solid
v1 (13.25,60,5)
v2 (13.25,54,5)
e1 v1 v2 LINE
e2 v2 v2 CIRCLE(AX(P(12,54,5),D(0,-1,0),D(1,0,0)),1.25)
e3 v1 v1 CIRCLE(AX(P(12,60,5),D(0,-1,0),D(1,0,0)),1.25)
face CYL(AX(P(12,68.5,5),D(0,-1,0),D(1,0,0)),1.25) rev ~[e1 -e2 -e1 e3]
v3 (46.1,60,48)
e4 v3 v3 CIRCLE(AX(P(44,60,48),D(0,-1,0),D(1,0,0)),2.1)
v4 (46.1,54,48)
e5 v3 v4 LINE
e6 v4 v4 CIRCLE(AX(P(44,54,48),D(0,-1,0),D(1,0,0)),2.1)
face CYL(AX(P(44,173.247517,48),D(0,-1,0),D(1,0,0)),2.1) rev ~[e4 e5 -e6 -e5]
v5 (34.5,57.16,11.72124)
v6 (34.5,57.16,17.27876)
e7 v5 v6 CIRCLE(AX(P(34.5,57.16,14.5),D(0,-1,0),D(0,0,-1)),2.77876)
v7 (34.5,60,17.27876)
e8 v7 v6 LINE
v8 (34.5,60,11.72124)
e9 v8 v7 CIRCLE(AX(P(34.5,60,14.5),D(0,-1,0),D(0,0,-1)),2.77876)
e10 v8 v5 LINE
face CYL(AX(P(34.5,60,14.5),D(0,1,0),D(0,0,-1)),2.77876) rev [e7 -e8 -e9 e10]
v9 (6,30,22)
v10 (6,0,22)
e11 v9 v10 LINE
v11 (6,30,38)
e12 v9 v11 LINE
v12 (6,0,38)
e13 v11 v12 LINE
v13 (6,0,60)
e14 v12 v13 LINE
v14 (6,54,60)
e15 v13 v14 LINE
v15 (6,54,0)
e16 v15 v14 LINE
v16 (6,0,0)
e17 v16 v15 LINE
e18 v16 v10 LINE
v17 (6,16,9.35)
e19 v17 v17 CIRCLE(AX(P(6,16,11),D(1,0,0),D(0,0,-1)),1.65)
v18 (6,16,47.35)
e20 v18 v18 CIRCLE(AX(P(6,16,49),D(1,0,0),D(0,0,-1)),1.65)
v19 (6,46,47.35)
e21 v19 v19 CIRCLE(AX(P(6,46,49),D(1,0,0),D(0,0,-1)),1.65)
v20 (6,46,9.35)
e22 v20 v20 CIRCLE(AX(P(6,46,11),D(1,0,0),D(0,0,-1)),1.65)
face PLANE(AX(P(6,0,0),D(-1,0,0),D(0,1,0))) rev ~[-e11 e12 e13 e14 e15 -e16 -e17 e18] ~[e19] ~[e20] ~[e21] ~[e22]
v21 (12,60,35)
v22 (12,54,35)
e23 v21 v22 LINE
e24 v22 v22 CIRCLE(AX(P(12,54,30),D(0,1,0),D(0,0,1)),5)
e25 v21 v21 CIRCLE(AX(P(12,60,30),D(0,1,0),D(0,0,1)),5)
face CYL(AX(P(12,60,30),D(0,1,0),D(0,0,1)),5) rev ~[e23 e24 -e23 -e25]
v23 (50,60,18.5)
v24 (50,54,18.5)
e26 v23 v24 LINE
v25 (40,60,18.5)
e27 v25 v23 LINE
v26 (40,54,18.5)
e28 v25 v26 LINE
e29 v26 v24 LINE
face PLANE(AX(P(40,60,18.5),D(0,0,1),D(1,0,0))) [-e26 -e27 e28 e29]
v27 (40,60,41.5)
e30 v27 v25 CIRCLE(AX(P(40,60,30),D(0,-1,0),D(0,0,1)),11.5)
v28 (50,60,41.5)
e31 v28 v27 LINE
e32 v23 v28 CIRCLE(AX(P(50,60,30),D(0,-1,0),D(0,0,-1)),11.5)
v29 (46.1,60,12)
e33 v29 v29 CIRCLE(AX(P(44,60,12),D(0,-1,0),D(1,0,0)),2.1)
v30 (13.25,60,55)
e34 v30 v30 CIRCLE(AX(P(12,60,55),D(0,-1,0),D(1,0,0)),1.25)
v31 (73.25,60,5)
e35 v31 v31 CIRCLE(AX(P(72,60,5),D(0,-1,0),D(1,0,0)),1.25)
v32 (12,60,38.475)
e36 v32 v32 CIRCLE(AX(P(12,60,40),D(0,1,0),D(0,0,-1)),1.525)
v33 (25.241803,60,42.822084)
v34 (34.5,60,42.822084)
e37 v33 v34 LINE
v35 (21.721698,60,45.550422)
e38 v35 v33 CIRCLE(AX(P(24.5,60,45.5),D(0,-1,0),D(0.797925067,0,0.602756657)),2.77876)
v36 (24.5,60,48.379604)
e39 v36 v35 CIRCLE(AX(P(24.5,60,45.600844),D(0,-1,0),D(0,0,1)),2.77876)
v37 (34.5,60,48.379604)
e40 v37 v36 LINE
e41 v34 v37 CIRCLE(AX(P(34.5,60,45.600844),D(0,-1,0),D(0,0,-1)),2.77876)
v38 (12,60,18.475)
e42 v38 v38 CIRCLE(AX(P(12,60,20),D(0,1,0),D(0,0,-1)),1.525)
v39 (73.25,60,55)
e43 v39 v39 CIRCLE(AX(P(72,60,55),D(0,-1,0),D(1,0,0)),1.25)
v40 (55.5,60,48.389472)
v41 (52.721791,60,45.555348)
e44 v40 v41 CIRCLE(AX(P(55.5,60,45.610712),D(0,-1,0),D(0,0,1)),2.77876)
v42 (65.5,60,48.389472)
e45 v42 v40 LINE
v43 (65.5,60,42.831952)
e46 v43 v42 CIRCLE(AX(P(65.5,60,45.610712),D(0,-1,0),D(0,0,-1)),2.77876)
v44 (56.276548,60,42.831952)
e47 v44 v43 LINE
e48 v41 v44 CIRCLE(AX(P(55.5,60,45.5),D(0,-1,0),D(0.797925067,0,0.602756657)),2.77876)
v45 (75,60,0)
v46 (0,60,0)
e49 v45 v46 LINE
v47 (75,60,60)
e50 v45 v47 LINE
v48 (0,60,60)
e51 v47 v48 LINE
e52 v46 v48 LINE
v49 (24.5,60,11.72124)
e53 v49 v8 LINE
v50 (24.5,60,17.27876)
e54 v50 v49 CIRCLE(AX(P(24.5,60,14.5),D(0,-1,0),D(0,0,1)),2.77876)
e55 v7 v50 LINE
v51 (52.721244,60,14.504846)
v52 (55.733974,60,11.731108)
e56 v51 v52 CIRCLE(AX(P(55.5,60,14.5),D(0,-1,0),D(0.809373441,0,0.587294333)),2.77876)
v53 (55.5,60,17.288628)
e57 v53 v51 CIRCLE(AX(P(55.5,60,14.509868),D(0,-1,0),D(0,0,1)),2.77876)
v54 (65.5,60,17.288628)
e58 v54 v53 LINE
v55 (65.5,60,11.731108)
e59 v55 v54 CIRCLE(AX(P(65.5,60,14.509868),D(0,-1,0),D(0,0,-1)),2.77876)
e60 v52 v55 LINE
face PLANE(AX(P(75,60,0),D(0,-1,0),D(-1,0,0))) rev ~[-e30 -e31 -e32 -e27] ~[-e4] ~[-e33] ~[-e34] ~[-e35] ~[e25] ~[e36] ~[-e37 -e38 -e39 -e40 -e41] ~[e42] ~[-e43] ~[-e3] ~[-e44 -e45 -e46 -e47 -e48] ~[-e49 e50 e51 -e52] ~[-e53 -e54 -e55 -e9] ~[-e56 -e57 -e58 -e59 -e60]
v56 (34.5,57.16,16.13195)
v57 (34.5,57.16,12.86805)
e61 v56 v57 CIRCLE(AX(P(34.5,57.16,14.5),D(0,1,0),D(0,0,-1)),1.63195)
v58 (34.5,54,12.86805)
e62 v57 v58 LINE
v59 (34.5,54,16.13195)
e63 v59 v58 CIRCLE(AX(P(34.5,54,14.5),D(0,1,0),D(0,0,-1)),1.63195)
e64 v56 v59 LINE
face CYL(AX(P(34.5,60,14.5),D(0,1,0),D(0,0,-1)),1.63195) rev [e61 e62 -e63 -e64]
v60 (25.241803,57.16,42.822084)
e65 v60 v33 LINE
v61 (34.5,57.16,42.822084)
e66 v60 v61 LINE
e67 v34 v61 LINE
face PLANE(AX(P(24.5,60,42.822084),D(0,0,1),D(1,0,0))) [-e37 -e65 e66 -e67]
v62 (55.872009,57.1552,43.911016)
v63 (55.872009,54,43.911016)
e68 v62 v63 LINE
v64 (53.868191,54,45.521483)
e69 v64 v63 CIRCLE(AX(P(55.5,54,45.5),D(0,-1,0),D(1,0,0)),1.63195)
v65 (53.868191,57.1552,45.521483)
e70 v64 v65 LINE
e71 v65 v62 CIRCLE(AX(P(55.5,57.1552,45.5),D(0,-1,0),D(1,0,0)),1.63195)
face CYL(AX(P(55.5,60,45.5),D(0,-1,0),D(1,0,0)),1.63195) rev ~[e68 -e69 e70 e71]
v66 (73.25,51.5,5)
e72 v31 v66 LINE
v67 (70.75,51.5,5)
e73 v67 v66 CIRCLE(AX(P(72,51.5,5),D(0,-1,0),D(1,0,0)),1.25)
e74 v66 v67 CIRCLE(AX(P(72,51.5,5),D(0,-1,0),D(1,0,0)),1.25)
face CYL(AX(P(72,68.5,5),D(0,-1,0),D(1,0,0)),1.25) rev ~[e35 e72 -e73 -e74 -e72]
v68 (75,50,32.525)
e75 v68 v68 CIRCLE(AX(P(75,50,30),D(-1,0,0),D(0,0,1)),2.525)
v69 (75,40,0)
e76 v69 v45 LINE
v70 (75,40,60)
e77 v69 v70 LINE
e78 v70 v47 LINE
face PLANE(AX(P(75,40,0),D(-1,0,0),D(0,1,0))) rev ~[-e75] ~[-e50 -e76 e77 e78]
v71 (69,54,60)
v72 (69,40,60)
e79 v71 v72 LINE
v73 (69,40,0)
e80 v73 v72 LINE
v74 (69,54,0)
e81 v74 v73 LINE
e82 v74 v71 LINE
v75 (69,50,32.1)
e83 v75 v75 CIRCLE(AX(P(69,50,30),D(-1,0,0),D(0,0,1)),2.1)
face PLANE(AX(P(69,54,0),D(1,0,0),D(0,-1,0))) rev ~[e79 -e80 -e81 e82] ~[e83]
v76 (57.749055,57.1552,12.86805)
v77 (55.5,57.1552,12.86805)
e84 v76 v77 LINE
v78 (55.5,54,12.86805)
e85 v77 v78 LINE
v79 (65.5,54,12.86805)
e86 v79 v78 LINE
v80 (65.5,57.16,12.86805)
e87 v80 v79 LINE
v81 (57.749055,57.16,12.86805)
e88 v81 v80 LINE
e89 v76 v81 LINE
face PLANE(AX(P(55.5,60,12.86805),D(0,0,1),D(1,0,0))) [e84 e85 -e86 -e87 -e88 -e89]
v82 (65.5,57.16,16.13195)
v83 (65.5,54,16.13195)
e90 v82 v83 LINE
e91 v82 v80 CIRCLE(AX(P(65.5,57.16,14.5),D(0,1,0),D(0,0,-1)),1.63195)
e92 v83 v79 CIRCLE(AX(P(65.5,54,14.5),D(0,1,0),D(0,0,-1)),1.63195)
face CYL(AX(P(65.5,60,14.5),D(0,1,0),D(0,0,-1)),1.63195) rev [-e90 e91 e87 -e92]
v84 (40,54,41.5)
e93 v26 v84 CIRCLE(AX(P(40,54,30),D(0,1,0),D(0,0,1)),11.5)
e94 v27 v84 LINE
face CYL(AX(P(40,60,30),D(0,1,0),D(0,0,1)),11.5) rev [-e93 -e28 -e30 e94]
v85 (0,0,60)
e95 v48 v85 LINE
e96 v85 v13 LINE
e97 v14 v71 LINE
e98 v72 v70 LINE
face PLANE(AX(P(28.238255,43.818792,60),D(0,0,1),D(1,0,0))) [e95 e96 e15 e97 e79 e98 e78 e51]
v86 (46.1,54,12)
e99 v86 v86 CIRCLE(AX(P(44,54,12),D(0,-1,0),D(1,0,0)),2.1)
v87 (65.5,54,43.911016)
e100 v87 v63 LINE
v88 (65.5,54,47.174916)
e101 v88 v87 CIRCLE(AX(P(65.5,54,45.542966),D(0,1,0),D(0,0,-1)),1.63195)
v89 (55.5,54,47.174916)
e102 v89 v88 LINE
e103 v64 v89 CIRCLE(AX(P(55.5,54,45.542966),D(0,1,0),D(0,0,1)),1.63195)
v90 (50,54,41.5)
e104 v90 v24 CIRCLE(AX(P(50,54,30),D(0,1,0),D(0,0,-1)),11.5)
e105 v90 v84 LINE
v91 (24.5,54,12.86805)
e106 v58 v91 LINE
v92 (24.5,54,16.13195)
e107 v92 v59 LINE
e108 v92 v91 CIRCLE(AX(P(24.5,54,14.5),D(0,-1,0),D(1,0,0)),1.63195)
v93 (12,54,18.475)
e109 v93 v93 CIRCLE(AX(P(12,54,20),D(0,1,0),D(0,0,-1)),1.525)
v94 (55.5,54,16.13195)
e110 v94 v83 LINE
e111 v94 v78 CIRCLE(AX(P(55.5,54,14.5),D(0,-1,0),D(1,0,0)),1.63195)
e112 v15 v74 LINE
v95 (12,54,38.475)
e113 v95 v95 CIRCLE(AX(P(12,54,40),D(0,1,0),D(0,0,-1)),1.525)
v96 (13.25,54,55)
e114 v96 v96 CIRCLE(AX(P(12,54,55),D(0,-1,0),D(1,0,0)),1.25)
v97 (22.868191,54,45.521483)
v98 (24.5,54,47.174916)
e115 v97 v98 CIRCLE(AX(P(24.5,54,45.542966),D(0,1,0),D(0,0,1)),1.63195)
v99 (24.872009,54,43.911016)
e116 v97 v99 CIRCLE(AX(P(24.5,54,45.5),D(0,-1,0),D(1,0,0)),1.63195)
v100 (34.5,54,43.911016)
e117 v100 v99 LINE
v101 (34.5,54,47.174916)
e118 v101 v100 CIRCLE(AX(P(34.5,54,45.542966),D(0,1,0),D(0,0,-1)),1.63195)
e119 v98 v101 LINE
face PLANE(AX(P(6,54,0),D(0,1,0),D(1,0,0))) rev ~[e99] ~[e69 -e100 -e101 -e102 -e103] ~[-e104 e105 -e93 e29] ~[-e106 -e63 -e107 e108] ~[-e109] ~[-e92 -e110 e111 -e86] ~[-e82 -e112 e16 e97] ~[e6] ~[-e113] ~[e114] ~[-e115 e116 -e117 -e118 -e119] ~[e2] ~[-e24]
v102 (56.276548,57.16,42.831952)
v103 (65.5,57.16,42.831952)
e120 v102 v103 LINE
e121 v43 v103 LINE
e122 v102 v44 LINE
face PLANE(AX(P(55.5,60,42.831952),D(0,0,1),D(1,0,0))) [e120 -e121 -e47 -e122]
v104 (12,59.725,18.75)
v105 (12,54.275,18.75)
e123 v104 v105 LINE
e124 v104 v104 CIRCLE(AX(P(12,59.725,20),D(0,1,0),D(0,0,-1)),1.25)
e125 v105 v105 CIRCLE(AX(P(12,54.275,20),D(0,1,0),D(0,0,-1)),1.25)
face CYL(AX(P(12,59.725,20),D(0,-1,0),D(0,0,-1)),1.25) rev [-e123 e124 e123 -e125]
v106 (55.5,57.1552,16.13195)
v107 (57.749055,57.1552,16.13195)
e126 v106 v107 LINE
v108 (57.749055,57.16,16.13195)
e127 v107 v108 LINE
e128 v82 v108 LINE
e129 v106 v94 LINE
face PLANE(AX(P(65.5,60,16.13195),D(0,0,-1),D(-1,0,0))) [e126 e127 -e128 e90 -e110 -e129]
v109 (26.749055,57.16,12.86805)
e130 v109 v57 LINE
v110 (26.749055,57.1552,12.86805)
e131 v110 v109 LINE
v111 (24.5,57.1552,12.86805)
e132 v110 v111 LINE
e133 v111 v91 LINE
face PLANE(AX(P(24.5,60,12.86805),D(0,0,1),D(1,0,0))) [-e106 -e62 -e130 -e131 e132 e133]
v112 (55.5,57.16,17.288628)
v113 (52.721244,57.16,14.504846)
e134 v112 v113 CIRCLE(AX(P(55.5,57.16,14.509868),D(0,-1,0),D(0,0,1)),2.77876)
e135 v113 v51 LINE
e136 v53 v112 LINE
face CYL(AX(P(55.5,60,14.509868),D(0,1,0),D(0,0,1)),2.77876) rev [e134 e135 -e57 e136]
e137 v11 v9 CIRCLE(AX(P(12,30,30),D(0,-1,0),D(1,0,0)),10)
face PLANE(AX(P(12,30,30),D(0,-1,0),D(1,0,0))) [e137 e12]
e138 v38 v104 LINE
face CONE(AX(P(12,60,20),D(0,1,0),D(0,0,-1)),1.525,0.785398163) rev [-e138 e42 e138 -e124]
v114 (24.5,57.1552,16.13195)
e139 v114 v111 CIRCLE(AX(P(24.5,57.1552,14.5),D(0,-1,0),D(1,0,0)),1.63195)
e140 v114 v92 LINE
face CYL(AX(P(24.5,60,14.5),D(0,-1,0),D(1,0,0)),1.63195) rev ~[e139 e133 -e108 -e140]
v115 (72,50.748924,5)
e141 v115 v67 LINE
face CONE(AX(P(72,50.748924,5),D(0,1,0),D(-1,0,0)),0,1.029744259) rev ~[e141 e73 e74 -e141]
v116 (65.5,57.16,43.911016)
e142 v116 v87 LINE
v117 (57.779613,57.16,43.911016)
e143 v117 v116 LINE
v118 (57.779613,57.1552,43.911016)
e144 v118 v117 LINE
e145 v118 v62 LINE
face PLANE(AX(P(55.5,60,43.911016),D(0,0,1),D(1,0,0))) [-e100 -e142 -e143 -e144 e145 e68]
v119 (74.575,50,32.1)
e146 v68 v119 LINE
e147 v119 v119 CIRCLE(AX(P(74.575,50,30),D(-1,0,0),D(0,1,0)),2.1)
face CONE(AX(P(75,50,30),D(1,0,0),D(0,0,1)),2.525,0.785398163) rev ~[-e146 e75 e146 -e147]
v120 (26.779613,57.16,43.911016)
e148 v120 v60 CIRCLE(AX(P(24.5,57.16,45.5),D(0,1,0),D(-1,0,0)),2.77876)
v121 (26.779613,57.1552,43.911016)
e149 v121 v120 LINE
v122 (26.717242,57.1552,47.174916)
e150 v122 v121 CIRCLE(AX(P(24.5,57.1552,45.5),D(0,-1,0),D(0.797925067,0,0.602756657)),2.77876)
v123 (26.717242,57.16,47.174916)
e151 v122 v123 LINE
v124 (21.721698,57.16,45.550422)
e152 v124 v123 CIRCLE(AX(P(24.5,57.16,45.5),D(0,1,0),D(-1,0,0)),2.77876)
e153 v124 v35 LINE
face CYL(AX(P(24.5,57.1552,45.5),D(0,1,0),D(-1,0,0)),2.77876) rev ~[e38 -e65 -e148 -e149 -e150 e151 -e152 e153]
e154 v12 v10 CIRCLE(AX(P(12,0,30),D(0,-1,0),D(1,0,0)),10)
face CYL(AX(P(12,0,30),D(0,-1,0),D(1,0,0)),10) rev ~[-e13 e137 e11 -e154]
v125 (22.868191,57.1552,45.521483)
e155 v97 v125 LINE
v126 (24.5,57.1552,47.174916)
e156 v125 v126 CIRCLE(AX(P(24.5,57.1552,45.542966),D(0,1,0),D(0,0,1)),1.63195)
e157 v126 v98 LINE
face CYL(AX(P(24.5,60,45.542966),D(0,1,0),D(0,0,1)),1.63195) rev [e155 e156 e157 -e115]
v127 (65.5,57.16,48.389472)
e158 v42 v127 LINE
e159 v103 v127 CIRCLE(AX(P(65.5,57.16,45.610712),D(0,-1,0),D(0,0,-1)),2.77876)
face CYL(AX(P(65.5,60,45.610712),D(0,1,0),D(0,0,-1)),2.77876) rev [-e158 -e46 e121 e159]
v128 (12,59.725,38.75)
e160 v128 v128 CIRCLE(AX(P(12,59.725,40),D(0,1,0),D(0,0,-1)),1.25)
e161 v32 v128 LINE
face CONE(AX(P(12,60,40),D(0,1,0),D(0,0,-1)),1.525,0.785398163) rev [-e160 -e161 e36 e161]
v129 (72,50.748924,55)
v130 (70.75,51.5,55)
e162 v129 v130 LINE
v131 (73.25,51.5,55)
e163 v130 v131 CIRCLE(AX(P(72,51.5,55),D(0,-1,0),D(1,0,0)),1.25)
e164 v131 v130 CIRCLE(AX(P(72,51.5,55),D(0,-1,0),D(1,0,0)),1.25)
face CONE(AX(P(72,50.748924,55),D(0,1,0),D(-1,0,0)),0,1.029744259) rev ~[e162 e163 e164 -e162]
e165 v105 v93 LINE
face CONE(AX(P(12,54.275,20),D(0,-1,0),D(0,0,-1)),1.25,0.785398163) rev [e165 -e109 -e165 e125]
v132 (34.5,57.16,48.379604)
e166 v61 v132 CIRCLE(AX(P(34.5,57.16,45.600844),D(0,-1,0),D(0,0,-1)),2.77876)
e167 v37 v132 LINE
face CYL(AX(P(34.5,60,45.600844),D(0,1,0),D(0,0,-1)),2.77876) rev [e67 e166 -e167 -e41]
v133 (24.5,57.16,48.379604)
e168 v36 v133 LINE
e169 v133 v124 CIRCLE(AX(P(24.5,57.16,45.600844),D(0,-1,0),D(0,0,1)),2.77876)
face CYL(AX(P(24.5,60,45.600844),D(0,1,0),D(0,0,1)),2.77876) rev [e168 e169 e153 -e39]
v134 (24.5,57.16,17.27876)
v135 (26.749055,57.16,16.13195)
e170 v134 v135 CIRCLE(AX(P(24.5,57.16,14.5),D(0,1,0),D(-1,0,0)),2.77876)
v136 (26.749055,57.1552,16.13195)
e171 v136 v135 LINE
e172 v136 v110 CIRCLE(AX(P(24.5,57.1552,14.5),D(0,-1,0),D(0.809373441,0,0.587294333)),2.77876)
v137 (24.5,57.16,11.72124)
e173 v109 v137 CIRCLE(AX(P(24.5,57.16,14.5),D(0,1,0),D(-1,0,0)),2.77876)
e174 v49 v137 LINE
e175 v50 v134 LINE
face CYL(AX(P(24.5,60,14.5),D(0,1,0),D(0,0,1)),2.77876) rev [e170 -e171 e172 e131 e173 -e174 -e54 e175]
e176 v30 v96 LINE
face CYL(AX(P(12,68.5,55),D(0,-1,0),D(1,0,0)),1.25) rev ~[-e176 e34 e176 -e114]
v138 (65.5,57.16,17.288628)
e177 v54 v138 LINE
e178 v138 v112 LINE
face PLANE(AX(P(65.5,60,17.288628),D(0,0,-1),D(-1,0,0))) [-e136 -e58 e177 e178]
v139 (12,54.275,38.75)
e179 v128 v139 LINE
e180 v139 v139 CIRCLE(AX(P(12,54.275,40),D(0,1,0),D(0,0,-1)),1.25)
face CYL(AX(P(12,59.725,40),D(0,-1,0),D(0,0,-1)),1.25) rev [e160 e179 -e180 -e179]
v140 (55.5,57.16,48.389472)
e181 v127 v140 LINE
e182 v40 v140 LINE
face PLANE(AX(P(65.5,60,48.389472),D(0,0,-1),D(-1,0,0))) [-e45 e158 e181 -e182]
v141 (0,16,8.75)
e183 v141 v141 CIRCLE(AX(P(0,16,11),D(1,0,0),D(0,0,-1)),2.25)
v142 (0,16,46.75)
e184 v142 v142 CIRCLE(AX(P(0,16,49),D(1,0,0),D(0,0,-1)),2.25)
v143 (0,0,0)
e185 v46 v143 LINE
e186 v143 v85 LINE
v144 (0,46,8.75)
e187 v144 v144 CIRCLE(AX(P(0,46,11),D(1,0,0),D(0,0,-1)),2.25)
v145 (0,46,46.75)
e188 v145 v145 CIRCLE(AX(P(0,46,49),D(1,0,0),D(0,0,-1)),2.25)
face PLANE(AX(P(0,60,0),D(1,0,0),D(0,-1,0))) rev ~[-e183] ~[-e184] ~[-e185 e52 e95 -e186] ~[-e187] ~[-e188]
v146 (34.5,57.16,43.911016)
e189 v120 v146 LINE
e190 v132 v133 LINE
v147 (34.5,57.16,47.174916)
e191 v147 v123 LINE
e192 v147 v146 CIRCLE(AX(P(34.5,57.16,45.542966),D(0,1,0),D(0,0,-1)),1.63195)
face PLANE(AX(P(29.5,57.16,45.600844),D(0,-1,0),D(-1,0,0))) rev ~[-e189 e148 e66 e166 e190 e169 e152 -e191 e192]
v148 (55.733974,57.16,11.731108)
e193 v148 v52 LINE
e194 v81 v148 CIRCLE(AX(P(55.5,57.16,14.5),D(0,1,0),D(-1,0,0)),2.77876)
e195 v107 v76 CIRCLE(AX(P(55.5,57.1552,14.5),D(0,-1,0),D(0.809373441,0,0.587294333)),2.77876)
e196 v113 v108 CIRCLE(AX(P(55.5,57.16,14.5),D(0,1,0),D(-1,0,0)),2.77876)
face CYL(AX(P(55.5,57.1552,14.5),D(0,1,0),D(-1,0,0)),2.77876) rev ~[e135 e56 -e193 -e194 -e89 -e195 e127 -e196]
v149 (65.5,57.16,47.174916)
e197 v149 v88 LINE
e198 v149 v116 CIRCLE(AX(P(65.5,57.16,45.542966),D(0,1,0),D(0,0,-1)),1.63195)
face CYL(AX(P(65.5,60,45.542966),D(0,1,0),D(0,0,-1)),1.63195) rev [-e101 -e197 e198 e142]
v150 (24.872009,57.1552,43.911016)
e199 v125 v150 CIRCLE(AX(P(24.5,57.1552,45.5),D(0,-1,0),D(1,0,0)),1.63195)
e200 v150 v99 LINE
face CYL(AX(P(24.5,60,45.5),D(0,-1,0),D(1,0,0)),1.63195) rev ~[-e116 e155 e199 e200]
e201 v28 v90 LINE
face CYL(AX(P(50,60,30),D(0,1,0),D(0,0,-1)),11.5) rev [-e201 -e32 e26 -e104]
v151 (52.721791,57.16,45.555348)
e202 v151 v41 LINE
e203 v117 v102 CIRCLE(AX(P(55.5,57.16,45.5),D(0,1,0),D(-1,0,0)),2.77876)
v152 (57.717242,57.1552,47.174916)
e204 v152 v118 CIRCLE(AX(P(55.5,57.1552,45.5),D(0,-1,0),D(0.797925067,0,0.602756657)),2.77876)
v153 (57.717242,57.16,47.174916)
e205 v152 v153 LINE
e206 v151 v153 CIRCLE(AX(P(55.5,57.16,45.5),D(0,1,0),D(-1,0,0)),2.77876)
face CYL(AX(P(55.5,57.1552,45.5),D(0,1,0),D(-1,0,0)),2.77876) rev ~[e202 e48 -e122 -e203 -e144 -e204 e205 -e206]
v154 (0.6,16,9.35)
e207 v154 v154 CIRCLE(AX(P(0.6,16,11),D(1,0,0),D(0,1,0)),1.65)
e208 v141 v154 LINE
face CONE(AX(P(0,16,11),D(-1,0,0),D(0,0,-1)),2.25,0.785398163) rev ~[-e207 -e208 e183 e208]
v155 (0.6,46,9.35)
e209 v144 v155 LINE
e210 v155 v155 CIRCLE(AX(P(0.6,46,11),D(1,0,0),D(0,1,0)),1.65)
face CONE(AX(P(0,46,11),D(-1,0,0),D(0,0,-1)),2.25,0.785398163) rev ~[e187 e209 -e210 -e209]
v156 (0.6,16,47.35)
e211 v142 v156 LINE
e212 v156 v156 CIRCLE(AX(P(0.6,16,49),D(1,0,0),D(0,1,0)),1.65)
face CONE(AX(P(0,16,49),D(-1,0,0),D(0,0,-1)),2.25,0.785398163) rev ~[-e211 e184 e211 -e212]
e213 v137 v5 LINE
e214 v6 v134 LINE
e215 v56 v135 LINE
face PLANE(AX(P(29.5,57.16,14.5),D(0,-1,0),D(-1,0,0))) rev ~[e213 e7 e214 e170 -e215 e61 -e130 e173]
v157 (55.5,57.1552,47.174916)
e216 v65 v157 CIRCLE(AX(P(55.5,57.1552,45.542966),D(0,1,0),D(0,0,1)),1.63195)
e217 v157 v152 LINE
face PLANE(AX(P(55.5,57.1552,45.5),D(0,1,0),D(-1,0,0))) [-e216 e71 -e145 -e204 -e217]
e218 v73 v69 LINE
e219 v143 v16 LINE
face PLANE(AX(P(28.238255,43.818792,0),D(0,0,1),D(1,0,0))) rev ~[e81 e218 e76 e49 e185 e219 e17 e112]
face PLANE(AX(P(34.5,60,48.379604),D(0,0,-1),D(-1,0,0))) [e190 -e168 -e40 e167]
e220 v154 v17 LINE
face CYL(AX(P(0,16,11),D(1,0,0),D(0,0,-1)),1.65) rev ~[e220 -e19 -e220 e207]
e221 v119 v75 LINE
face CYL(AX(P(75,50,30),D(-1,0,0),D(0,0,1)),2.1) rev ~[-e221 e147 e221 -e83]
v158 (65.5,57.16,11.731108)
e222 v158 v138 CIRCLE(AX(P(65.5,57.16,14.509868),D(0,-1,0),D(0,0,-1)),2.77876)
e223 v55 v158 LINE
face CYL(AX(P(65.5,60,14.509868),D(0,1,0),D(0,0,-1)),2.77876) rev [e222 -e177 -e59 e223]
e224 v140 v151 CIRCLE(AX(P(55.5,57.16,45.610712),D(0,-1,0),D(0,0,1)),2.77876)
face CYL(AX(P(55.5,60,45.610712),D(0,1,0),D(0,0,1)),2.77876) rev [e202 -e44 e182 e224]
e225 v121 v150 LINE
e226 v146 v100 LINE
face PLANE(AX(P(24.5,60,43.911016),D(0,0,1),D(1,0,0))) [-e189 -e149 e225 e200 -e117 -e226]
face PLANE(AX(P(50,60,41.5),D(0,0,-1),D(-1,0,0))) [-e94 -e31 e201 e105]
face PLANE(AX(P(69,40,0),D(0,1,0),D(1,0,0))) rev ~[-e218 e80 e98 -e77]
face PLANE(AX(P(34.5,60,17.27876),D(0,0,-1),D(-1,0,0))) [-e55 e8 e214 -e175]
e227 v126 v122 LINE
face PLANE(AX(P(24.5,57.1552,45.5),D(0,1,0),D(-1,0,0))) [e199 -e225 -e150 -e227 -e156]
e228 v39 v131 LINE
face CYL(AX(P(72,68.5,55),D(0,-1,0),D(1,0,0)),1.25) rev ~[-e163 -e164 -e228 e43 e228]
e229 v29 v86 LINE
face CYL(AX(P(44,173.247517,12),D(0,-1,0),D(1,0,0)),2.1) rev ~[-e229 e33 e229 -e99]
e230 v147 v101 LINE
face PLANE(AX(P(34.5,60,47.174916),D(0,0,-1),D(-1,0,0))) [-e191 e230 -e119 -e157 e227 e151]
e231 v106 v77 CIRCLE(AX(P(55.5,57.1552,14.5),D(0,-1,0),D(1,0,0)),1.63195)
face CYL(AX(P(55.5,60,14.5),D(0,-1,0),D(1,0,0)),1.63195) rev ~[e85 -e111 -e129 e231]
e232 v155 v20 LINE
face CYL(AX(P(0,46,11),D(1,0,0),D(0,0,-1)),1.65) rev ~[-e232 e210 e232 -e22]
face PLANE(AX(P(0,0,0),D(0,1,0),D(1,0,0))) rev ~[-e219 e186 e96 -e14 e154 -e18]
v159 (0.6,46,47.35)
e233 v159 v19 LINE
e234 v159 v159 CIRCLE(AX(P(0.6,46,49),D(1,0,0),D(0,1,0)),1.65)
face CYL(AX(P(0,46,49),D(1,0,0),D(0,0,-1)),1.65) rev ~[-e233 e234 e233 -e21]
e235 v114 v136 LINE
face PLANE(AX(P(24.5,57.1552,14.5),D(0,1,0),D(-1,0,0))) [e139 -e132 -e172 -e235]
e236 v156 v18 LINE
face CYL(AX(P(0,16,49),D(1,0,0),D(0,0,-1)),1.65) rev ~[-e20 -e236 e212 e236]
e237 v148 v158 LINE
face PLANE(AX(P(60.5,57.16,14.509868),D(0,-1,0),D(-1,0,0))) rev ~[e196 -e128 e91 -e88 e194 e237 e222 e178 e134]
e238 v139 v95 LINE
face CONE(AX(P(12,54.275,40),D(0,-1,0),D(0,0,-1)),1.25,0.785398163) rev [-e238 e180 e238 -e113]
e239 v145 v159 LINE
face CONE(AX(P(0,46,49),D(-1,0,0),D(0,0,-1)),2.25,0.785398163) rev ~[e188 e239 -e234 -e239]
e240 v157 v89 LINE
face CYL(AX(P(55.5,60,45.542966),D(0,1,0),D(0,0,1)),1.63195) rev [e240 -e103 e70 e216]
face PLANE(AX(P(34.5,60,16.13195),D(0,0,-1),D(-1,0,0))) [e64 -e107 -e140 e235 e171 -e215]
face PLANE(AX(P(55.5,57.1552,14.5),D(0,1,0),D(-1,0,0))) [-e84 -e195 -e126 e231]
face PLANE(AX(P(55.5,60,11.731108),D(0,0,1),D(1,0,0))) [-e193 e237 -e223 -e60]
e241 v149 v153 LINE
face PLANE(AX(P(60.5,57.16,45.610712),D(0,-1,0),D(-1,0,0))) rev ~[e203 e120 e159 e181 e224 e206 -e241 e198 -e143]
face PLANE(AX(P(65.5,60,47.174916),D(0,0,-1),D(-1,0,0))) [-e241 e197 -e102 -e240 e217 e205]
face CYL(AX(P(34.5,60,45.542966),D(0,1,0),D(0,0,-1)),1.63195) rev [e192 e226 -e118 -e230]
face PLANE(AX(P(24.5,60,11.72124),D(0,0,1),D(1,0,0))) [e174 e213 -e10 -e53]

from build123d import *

# Parameters (mm, degrees)
BOSS_EXTRUDE1_DEPTH                            = 60
CUT_EXTRUDE1_DEPTH                             = 114.247516529
CBORE_FOR_4_SOCKET_HEAD_CAP_SCREW1_D           = 3.2639
CBORE_FOR_4_SOCKET_HEAD_CAP_SCREW1_CBORE_D     = 5.55752
CBORE_FOR_4_SOCKET_HEAD_CAP_SCREW1_CBORE_DEPTH = 2.8448
CUT_EXTRUDE5_REACH                             = 115.248
CUT_EXTRUDE6_DEPTH                             = 2.84
M3_TAPPED_HOLE1_D                              = 2.5
M3_TAPPED_HOLE1_DEPTH                          = 8.5
M3_TAPPED_HOLE1_TIP                            = 0.751075774
M5_TAPPED_HOLE1_D                              = 4.2
SKETCH11_R                                     = 5
CUT_EXTRUDE2_DEPTH                             = 114.247516529
M4_TAPPED_HOLE1_D                              = 3.3
M4_TAPPED_HOLE1_DEPTH                          = 6
M4_TAPPED_HOLE1_CSINK_D                        = 4.5
M4_TAPPED_HOLE1_CSINK_ANGLE                    = 90
M5_TAPPED_HOLE2_D                              = 4.2
M5_TAPPED_HOLE2_DEPTH                          = 6
M5_TAPPED_HOLE2_CSINK_D                        = 5.05
M5_TAPPED_HOLE2_CSINK_ANGLE                    = 90
SKETCH16_R                                     = 10
CUT_EXTRUDE4_DEPTH                             = 30
M3_TAPPED_HOLE2_AT_2_COUNT                     = 2
M3_TAPPED_HOLE2_AT_2_PITCH                     = 20


with BuildPart() as part:
    # Sketch1 → Boss-Extrude1 (new body)
    with BuildSketch(Plane.XY):
        Polygon((0, 0), (6, 0), (6, 54), (69, 54), (69, 40), (75, 40), (75, 60), (0, 60), align=None)
    extrude(amount=BOSS_EXTRUDE1_DEPTH)

    # Sketch2 → Cut-Extrude1 (cut, through all)
    with BuildSketch(Plane(origin=(0, 60, 0), x_dir=(1, 0, 0), z_dir=(0, 1, 0))):
        with BuildLine():
            Line((40, -18.5), (50, -18.5))
            ThreePointArc((50, -18.5), (61.5, -30), (50, -41.5))
            Line((50, -41.5), (40, -41.5))
            ThreePointArc((40, -41.5), (28.5, -30), (40, -18.5))
        make_face()
    extrude(amount=-CUT_EXTRUDE1_DEPTH, mode=Mode.SUBTRACT)

    # CBORE for #4 Socket Head Cap Screw1 (through all)
    with Locations(Plane(origin=(0, 60, 0), x_dir=(-1, 0, 0), z_dir=(0, 1, 0))):
        with Locations((-24.5, 45.5), (-55.5, 45.5), (-24.5, 14.5), (-55.5, 14.5)):
            CounterBoreHole(CBORE_FOR_4_SOCKET_HEAD_CAP_SCREW1_D / 2, CBORE_FOR_4_SOCKET_HEAD_CAP_SCREW1_CBORE_D / 2, CBORE_FOR_4_SOCKET_HEAD_CAP_SCREW1_CBORE_DEPTH)

    # Sketch24 → Cut-Extrude5 (cut, up to next)
    with BuildSketch(Plane(origin=(0, 60, 0), x_dir=(1, 0, 0), z_dir=(0, 1, 0)), mode=Mode.PRIVATE) as cut_extrude5_sk1:
        with BuildLine():
            Line((24.5, -12.86805), (34.5, -12.86805))
            ThreePointArc((34.5, -12.86805), (36.13195, -14.5), (34.5, -16.13195))
            Line((34.5, -16.13195), (24.5, -16.13195))
            ThreePointArc((24.5, -16.13195), (22.86805, -14.5), (24.5, -12.86805))
        make_face()
    cut_extrude5_tool1 = extrude(cut_extrude5_sk1.sketch, amount=-CUT_EXTRUDE5_REACH, mode=Mode.PRIVATE) & part.part
    # Sketch24 → Cut-Extrude5 (cut, up to next)
    with BuildSketch(Plane(origin=(0, 60, 0), x_dir=(1, 0, 0), z_dir=(0, 1, 0)), mode=Mode.PRIVATE) as cut_extrude5_sk2:
        with BuildLine():
            Line((55.5, -12.86805), (65.5, -12.86805))
            ThreePointArc((65.5, -12.86805), (67.13195, -14.5), (65.5, -16.13195))
            Line((65.5, -16.13195), (55.5, -16.13195))
            ThreePointArc((55.5, -16.13195), (53.86805, -14.5), (55.5, -12.86805))
        make_face()
    cut_extrude5_tool2 = extrude(cut_extrude5_sk2.sketch, amount=-CUT_EXTRUDE5_REACH, mode=Mode.PRIVATE) & part.part
    # Sketch24 → Cut-Extrude5 (cut, up to next)
    with BuildSketch(Plane(origin=(0, 60, 0), x_dir=(1, 0, 0), z_dir=(0, 1, 0)), mode=Mode.PRIVATE) as cut_extrude5_sk3:
        with BuildLine():
            Line((24.5, -43.911016089), (34.5, -43.911016089))
            ThreePointArc((34.5, -43.911016089), (36.13195, -45.542966089), (34.5, -47.174916089))
            Line((34.5, -47.174916089), (24.5, -47.174916089))
            ThreePointArc((24.5, -47.174916089), (22.86805, -45.542966089), (24.5, -43.911016089))
        make_face()
    cut_extrude5_tool3 = extrude(cut_extrude5_sk3.sketch, amount=-CUT_EXTRUDE5_REACH, mode=Mode.PRIVATE) & part.part
    # Sketch24 → Cut-Extrude5 (cut, up to next)
    with BuildSketch(Plane(origin=(0, 60, 0), x_dir=(1, 0, 0), z_dir=(0, 1, 0)), mode=Mode.PRIVATE) as cut_extrude5_sk4:
        with BuildLine():
            Line((55.5, -43.911016089), (65.5, -43.911016089))
            ThreePointArc((65.5, -43.911016089), (67.13195, -45.542966089), (65.5, -47.174916089))
            Line((65.5, -47.174916089), (55.5, -47.174916089))
            ThreePointArc((55.5, -47.174916089), (53.86805, -45.542966089), (55.5, -43.911016089))
        make_face()
    cut_extrude5_tool4 = extrude(cut_extrude5_sk4.sketch, amount=-CUT_EXTRUDE5_REACH, mode=Mode.PRIVATE) & part.part
    add(cut_extrude5_tool1.solids().sort_by_distance((29.5, 60, 14.5))[0], mode=Mode.SUBTRACT)
    add(cut_extrude5_tool2.solids().sort_by_distance((60.5, 60, 14.5))[0], mode=Mode.SUBTRACT)
    add(cut_extrude5_tool3.solids().sort_by_distance((29.5, 60, 45.542966))[0], mode=Mode.SUBTRACT)
    add(cut_extrude5_tool4.solids().sort_by_distance((60.5, 60, 45.542966))[0], mode=Mode.SUBTRACT)

    # Sketch25 → Cut-Extrude6 (cut)
    with BuildSketch(Plane(origin=(0, 60, 0), x_dir=(1, 0, 0), z_dir=(0, 1, 0))):
        with BuildLine():
            Line((24.5, -11.72124), (34.5, -11.72124))
            ThreePointArc((34.5, -11.72124), (37.27876, -14.5), (34.5, -17.27876))
            Line((34.5, -17.27876), (24.5, -17.27876))
            ThreePointArc((24.5, -17.27876), (21.72124, -14.5), (24.5, -11.72124))
        make_face()
        with BuildLine():
            Line((55.499999686, -11.73110797), (65.499999686, -11.73110797))
            ThreePointArc((65.499999686, -11.73110797), (68.278759686, -14.50986797), (65.499999686, -17.28862797))
            Line((65.499999686, -17.28862797), (55.499999686, -17.28862797))
            ThreePointArc((55.499999686, -17.28862797), (52.721239686, -14.50986797), (55.499999686, -11.73110797))
        make_face()
        with BuildLine():
            Line((24.5, -42.822083884), (34.5, -42.822083884))
            ThreePointArc((34.5, -42.822083884), (37.27876, -45.600843884), (34.5, -48.379603884))
            Line((34.5, -48.379603884), (24.5, -48.379603884))
            ThreePointArc((24.5, -48.379603884), (21.72124, -45.600843884), (24.5, -42.822083884))
        make_face()
        with BuildLine():
            Line((55.499999686, -42.831951854), (65.499999686, -42.831951854))
            ThreePointArc((65.499999686, -42.831951854), (68.278759686, -45.610711854), (65.499999686, -48.389471854))
            Line((65.499999686, -48.389471854), (55.499999686, -48.389471854))
            ThreePointArc((55.499999686, -48.389471854), (52.721239686, -45.610711854), (55.499999686, -42.831951854))
        make_face()
    extrude(amount=-CUT_EXTRUDE6_DEPTH, mode=Mode.SUBTRACT)

    # M3 Tapped Hole1
    with Locations(Plane(origin=(0, 60, 0), x_dir=(-1, 0, 0), z_dir=(0, 1, 0))):
        with Locations((-12, 55), (-72, 55), (-12, 5), (-72, 5)):
            Hole(M3_TAPPED_HOLE1_D / 2, depth=M3_TAPPED_HOLE1_DEPTH)
            with Locations((0, 0, -(M3_TAPPED_HOLE1_DEPTH + M3_TAPPED_HOLE1_TIP / 2))):  # 118° drill point
                Cone(0, M3_TAPPED_HOLE1_D / 2, M3_TAPPED_HOLE1_TIP, mode=Mode.SUBTRACT)

    # M5 Tapped Hole1 (through all)
    with Locations(Plane(origin=(0, 60, 0), x_dir=(-1, 0, 0), z_dir=(0, 1, 0))):
        with Locations((-44, 12), (-44, 48)):
            Hole(M5_TAPPED_HOLE1_D / 2)

    # Sketch11 → Cut-Extrude2 (cut, through all)
    with BuildSketch(Plane(origin=(0, 60, 0), x_dir=(1, 0, 0), z_dir=(0, 1, 0))):
        with Locations(Location((12, -30, 0), (0, 0, 270))):
            Circle(SKETCH11_R)
    extrude(amount=-CUT_EXTRUDE2_DEPTH, mode=Mode.SUBTRACT)

    # M4 Tapped Hole1
    with Locations(Plane.ZY):
        with Locations((11, 46), (11, 16), (49, 46), (49, 16)):
            CounterSinkHole(M4_TAPPED_HOLE1_D / 2, M4_TAPPED_HOLE1_CSINK_D / 2, depth=M4_TAPPED_HOLE1_DEPTH, counter_sink_angle=M4_TAPPED_HOLE1_CSINK_ANGLE)

    # M5 Tapped Hole2
    with Locations(Plane(origin=(75, 0, 0), x_dir=(0, 0, -1), z_dir=(1, 0, 0))):
        with Locations((-30, 50)):
            CounterSinkHole(M5_TAPPED_HOLE2_D / 2, M5_TAPPED_HOLE2_CSINK_D / 2, depth=M5_TAPPED_HOLE2_DEPTH, counter_sink_angle=M5_TAPPED_HOLE2_CSINK_ANGLE)

    # Sketch16 → Cut-Extrude4 (cut)
    with BuildSketch(Plane.XZ):
        with Locations((12, 30)):
            Circle(SKETCH16_R)
    extrude(amount=-CUT_EXTRUDE4_DEPTH, mode=Mode.SUBTRACT)

    # Sketch29 → M3 Tapped Hole2 (revolve, cut)
    with BuildSketch(Plane(origin=(12, 54, 40), x_dir=(0, 0, -1), z_dir=(1, 0, 0))):
        Polygon((0, 0), (0, 6), (1.525, 6), (1.25, 5.725), (1.25, 0.275), (1.525, 0), align=None)
    m3_tapped_hole2 = revolve(axis=Axis((12, 47.65, 40), (0, 1, 0)), mode=Mode.SUBTRACT)

    # M3 Tapped Hole2 at 2: M3 Tapped Hole2 ×2
    with Locations(*[(0, 0, -i * M3_TAPPED_HOLE2_AT_2_PITCH) for i in range(1, M3_TAPPED_HOLE2_AT_2_COUNT)]):
        add(m3_tapped_hole2, mode=Mode.SUBTRACT)


solid = part.part
